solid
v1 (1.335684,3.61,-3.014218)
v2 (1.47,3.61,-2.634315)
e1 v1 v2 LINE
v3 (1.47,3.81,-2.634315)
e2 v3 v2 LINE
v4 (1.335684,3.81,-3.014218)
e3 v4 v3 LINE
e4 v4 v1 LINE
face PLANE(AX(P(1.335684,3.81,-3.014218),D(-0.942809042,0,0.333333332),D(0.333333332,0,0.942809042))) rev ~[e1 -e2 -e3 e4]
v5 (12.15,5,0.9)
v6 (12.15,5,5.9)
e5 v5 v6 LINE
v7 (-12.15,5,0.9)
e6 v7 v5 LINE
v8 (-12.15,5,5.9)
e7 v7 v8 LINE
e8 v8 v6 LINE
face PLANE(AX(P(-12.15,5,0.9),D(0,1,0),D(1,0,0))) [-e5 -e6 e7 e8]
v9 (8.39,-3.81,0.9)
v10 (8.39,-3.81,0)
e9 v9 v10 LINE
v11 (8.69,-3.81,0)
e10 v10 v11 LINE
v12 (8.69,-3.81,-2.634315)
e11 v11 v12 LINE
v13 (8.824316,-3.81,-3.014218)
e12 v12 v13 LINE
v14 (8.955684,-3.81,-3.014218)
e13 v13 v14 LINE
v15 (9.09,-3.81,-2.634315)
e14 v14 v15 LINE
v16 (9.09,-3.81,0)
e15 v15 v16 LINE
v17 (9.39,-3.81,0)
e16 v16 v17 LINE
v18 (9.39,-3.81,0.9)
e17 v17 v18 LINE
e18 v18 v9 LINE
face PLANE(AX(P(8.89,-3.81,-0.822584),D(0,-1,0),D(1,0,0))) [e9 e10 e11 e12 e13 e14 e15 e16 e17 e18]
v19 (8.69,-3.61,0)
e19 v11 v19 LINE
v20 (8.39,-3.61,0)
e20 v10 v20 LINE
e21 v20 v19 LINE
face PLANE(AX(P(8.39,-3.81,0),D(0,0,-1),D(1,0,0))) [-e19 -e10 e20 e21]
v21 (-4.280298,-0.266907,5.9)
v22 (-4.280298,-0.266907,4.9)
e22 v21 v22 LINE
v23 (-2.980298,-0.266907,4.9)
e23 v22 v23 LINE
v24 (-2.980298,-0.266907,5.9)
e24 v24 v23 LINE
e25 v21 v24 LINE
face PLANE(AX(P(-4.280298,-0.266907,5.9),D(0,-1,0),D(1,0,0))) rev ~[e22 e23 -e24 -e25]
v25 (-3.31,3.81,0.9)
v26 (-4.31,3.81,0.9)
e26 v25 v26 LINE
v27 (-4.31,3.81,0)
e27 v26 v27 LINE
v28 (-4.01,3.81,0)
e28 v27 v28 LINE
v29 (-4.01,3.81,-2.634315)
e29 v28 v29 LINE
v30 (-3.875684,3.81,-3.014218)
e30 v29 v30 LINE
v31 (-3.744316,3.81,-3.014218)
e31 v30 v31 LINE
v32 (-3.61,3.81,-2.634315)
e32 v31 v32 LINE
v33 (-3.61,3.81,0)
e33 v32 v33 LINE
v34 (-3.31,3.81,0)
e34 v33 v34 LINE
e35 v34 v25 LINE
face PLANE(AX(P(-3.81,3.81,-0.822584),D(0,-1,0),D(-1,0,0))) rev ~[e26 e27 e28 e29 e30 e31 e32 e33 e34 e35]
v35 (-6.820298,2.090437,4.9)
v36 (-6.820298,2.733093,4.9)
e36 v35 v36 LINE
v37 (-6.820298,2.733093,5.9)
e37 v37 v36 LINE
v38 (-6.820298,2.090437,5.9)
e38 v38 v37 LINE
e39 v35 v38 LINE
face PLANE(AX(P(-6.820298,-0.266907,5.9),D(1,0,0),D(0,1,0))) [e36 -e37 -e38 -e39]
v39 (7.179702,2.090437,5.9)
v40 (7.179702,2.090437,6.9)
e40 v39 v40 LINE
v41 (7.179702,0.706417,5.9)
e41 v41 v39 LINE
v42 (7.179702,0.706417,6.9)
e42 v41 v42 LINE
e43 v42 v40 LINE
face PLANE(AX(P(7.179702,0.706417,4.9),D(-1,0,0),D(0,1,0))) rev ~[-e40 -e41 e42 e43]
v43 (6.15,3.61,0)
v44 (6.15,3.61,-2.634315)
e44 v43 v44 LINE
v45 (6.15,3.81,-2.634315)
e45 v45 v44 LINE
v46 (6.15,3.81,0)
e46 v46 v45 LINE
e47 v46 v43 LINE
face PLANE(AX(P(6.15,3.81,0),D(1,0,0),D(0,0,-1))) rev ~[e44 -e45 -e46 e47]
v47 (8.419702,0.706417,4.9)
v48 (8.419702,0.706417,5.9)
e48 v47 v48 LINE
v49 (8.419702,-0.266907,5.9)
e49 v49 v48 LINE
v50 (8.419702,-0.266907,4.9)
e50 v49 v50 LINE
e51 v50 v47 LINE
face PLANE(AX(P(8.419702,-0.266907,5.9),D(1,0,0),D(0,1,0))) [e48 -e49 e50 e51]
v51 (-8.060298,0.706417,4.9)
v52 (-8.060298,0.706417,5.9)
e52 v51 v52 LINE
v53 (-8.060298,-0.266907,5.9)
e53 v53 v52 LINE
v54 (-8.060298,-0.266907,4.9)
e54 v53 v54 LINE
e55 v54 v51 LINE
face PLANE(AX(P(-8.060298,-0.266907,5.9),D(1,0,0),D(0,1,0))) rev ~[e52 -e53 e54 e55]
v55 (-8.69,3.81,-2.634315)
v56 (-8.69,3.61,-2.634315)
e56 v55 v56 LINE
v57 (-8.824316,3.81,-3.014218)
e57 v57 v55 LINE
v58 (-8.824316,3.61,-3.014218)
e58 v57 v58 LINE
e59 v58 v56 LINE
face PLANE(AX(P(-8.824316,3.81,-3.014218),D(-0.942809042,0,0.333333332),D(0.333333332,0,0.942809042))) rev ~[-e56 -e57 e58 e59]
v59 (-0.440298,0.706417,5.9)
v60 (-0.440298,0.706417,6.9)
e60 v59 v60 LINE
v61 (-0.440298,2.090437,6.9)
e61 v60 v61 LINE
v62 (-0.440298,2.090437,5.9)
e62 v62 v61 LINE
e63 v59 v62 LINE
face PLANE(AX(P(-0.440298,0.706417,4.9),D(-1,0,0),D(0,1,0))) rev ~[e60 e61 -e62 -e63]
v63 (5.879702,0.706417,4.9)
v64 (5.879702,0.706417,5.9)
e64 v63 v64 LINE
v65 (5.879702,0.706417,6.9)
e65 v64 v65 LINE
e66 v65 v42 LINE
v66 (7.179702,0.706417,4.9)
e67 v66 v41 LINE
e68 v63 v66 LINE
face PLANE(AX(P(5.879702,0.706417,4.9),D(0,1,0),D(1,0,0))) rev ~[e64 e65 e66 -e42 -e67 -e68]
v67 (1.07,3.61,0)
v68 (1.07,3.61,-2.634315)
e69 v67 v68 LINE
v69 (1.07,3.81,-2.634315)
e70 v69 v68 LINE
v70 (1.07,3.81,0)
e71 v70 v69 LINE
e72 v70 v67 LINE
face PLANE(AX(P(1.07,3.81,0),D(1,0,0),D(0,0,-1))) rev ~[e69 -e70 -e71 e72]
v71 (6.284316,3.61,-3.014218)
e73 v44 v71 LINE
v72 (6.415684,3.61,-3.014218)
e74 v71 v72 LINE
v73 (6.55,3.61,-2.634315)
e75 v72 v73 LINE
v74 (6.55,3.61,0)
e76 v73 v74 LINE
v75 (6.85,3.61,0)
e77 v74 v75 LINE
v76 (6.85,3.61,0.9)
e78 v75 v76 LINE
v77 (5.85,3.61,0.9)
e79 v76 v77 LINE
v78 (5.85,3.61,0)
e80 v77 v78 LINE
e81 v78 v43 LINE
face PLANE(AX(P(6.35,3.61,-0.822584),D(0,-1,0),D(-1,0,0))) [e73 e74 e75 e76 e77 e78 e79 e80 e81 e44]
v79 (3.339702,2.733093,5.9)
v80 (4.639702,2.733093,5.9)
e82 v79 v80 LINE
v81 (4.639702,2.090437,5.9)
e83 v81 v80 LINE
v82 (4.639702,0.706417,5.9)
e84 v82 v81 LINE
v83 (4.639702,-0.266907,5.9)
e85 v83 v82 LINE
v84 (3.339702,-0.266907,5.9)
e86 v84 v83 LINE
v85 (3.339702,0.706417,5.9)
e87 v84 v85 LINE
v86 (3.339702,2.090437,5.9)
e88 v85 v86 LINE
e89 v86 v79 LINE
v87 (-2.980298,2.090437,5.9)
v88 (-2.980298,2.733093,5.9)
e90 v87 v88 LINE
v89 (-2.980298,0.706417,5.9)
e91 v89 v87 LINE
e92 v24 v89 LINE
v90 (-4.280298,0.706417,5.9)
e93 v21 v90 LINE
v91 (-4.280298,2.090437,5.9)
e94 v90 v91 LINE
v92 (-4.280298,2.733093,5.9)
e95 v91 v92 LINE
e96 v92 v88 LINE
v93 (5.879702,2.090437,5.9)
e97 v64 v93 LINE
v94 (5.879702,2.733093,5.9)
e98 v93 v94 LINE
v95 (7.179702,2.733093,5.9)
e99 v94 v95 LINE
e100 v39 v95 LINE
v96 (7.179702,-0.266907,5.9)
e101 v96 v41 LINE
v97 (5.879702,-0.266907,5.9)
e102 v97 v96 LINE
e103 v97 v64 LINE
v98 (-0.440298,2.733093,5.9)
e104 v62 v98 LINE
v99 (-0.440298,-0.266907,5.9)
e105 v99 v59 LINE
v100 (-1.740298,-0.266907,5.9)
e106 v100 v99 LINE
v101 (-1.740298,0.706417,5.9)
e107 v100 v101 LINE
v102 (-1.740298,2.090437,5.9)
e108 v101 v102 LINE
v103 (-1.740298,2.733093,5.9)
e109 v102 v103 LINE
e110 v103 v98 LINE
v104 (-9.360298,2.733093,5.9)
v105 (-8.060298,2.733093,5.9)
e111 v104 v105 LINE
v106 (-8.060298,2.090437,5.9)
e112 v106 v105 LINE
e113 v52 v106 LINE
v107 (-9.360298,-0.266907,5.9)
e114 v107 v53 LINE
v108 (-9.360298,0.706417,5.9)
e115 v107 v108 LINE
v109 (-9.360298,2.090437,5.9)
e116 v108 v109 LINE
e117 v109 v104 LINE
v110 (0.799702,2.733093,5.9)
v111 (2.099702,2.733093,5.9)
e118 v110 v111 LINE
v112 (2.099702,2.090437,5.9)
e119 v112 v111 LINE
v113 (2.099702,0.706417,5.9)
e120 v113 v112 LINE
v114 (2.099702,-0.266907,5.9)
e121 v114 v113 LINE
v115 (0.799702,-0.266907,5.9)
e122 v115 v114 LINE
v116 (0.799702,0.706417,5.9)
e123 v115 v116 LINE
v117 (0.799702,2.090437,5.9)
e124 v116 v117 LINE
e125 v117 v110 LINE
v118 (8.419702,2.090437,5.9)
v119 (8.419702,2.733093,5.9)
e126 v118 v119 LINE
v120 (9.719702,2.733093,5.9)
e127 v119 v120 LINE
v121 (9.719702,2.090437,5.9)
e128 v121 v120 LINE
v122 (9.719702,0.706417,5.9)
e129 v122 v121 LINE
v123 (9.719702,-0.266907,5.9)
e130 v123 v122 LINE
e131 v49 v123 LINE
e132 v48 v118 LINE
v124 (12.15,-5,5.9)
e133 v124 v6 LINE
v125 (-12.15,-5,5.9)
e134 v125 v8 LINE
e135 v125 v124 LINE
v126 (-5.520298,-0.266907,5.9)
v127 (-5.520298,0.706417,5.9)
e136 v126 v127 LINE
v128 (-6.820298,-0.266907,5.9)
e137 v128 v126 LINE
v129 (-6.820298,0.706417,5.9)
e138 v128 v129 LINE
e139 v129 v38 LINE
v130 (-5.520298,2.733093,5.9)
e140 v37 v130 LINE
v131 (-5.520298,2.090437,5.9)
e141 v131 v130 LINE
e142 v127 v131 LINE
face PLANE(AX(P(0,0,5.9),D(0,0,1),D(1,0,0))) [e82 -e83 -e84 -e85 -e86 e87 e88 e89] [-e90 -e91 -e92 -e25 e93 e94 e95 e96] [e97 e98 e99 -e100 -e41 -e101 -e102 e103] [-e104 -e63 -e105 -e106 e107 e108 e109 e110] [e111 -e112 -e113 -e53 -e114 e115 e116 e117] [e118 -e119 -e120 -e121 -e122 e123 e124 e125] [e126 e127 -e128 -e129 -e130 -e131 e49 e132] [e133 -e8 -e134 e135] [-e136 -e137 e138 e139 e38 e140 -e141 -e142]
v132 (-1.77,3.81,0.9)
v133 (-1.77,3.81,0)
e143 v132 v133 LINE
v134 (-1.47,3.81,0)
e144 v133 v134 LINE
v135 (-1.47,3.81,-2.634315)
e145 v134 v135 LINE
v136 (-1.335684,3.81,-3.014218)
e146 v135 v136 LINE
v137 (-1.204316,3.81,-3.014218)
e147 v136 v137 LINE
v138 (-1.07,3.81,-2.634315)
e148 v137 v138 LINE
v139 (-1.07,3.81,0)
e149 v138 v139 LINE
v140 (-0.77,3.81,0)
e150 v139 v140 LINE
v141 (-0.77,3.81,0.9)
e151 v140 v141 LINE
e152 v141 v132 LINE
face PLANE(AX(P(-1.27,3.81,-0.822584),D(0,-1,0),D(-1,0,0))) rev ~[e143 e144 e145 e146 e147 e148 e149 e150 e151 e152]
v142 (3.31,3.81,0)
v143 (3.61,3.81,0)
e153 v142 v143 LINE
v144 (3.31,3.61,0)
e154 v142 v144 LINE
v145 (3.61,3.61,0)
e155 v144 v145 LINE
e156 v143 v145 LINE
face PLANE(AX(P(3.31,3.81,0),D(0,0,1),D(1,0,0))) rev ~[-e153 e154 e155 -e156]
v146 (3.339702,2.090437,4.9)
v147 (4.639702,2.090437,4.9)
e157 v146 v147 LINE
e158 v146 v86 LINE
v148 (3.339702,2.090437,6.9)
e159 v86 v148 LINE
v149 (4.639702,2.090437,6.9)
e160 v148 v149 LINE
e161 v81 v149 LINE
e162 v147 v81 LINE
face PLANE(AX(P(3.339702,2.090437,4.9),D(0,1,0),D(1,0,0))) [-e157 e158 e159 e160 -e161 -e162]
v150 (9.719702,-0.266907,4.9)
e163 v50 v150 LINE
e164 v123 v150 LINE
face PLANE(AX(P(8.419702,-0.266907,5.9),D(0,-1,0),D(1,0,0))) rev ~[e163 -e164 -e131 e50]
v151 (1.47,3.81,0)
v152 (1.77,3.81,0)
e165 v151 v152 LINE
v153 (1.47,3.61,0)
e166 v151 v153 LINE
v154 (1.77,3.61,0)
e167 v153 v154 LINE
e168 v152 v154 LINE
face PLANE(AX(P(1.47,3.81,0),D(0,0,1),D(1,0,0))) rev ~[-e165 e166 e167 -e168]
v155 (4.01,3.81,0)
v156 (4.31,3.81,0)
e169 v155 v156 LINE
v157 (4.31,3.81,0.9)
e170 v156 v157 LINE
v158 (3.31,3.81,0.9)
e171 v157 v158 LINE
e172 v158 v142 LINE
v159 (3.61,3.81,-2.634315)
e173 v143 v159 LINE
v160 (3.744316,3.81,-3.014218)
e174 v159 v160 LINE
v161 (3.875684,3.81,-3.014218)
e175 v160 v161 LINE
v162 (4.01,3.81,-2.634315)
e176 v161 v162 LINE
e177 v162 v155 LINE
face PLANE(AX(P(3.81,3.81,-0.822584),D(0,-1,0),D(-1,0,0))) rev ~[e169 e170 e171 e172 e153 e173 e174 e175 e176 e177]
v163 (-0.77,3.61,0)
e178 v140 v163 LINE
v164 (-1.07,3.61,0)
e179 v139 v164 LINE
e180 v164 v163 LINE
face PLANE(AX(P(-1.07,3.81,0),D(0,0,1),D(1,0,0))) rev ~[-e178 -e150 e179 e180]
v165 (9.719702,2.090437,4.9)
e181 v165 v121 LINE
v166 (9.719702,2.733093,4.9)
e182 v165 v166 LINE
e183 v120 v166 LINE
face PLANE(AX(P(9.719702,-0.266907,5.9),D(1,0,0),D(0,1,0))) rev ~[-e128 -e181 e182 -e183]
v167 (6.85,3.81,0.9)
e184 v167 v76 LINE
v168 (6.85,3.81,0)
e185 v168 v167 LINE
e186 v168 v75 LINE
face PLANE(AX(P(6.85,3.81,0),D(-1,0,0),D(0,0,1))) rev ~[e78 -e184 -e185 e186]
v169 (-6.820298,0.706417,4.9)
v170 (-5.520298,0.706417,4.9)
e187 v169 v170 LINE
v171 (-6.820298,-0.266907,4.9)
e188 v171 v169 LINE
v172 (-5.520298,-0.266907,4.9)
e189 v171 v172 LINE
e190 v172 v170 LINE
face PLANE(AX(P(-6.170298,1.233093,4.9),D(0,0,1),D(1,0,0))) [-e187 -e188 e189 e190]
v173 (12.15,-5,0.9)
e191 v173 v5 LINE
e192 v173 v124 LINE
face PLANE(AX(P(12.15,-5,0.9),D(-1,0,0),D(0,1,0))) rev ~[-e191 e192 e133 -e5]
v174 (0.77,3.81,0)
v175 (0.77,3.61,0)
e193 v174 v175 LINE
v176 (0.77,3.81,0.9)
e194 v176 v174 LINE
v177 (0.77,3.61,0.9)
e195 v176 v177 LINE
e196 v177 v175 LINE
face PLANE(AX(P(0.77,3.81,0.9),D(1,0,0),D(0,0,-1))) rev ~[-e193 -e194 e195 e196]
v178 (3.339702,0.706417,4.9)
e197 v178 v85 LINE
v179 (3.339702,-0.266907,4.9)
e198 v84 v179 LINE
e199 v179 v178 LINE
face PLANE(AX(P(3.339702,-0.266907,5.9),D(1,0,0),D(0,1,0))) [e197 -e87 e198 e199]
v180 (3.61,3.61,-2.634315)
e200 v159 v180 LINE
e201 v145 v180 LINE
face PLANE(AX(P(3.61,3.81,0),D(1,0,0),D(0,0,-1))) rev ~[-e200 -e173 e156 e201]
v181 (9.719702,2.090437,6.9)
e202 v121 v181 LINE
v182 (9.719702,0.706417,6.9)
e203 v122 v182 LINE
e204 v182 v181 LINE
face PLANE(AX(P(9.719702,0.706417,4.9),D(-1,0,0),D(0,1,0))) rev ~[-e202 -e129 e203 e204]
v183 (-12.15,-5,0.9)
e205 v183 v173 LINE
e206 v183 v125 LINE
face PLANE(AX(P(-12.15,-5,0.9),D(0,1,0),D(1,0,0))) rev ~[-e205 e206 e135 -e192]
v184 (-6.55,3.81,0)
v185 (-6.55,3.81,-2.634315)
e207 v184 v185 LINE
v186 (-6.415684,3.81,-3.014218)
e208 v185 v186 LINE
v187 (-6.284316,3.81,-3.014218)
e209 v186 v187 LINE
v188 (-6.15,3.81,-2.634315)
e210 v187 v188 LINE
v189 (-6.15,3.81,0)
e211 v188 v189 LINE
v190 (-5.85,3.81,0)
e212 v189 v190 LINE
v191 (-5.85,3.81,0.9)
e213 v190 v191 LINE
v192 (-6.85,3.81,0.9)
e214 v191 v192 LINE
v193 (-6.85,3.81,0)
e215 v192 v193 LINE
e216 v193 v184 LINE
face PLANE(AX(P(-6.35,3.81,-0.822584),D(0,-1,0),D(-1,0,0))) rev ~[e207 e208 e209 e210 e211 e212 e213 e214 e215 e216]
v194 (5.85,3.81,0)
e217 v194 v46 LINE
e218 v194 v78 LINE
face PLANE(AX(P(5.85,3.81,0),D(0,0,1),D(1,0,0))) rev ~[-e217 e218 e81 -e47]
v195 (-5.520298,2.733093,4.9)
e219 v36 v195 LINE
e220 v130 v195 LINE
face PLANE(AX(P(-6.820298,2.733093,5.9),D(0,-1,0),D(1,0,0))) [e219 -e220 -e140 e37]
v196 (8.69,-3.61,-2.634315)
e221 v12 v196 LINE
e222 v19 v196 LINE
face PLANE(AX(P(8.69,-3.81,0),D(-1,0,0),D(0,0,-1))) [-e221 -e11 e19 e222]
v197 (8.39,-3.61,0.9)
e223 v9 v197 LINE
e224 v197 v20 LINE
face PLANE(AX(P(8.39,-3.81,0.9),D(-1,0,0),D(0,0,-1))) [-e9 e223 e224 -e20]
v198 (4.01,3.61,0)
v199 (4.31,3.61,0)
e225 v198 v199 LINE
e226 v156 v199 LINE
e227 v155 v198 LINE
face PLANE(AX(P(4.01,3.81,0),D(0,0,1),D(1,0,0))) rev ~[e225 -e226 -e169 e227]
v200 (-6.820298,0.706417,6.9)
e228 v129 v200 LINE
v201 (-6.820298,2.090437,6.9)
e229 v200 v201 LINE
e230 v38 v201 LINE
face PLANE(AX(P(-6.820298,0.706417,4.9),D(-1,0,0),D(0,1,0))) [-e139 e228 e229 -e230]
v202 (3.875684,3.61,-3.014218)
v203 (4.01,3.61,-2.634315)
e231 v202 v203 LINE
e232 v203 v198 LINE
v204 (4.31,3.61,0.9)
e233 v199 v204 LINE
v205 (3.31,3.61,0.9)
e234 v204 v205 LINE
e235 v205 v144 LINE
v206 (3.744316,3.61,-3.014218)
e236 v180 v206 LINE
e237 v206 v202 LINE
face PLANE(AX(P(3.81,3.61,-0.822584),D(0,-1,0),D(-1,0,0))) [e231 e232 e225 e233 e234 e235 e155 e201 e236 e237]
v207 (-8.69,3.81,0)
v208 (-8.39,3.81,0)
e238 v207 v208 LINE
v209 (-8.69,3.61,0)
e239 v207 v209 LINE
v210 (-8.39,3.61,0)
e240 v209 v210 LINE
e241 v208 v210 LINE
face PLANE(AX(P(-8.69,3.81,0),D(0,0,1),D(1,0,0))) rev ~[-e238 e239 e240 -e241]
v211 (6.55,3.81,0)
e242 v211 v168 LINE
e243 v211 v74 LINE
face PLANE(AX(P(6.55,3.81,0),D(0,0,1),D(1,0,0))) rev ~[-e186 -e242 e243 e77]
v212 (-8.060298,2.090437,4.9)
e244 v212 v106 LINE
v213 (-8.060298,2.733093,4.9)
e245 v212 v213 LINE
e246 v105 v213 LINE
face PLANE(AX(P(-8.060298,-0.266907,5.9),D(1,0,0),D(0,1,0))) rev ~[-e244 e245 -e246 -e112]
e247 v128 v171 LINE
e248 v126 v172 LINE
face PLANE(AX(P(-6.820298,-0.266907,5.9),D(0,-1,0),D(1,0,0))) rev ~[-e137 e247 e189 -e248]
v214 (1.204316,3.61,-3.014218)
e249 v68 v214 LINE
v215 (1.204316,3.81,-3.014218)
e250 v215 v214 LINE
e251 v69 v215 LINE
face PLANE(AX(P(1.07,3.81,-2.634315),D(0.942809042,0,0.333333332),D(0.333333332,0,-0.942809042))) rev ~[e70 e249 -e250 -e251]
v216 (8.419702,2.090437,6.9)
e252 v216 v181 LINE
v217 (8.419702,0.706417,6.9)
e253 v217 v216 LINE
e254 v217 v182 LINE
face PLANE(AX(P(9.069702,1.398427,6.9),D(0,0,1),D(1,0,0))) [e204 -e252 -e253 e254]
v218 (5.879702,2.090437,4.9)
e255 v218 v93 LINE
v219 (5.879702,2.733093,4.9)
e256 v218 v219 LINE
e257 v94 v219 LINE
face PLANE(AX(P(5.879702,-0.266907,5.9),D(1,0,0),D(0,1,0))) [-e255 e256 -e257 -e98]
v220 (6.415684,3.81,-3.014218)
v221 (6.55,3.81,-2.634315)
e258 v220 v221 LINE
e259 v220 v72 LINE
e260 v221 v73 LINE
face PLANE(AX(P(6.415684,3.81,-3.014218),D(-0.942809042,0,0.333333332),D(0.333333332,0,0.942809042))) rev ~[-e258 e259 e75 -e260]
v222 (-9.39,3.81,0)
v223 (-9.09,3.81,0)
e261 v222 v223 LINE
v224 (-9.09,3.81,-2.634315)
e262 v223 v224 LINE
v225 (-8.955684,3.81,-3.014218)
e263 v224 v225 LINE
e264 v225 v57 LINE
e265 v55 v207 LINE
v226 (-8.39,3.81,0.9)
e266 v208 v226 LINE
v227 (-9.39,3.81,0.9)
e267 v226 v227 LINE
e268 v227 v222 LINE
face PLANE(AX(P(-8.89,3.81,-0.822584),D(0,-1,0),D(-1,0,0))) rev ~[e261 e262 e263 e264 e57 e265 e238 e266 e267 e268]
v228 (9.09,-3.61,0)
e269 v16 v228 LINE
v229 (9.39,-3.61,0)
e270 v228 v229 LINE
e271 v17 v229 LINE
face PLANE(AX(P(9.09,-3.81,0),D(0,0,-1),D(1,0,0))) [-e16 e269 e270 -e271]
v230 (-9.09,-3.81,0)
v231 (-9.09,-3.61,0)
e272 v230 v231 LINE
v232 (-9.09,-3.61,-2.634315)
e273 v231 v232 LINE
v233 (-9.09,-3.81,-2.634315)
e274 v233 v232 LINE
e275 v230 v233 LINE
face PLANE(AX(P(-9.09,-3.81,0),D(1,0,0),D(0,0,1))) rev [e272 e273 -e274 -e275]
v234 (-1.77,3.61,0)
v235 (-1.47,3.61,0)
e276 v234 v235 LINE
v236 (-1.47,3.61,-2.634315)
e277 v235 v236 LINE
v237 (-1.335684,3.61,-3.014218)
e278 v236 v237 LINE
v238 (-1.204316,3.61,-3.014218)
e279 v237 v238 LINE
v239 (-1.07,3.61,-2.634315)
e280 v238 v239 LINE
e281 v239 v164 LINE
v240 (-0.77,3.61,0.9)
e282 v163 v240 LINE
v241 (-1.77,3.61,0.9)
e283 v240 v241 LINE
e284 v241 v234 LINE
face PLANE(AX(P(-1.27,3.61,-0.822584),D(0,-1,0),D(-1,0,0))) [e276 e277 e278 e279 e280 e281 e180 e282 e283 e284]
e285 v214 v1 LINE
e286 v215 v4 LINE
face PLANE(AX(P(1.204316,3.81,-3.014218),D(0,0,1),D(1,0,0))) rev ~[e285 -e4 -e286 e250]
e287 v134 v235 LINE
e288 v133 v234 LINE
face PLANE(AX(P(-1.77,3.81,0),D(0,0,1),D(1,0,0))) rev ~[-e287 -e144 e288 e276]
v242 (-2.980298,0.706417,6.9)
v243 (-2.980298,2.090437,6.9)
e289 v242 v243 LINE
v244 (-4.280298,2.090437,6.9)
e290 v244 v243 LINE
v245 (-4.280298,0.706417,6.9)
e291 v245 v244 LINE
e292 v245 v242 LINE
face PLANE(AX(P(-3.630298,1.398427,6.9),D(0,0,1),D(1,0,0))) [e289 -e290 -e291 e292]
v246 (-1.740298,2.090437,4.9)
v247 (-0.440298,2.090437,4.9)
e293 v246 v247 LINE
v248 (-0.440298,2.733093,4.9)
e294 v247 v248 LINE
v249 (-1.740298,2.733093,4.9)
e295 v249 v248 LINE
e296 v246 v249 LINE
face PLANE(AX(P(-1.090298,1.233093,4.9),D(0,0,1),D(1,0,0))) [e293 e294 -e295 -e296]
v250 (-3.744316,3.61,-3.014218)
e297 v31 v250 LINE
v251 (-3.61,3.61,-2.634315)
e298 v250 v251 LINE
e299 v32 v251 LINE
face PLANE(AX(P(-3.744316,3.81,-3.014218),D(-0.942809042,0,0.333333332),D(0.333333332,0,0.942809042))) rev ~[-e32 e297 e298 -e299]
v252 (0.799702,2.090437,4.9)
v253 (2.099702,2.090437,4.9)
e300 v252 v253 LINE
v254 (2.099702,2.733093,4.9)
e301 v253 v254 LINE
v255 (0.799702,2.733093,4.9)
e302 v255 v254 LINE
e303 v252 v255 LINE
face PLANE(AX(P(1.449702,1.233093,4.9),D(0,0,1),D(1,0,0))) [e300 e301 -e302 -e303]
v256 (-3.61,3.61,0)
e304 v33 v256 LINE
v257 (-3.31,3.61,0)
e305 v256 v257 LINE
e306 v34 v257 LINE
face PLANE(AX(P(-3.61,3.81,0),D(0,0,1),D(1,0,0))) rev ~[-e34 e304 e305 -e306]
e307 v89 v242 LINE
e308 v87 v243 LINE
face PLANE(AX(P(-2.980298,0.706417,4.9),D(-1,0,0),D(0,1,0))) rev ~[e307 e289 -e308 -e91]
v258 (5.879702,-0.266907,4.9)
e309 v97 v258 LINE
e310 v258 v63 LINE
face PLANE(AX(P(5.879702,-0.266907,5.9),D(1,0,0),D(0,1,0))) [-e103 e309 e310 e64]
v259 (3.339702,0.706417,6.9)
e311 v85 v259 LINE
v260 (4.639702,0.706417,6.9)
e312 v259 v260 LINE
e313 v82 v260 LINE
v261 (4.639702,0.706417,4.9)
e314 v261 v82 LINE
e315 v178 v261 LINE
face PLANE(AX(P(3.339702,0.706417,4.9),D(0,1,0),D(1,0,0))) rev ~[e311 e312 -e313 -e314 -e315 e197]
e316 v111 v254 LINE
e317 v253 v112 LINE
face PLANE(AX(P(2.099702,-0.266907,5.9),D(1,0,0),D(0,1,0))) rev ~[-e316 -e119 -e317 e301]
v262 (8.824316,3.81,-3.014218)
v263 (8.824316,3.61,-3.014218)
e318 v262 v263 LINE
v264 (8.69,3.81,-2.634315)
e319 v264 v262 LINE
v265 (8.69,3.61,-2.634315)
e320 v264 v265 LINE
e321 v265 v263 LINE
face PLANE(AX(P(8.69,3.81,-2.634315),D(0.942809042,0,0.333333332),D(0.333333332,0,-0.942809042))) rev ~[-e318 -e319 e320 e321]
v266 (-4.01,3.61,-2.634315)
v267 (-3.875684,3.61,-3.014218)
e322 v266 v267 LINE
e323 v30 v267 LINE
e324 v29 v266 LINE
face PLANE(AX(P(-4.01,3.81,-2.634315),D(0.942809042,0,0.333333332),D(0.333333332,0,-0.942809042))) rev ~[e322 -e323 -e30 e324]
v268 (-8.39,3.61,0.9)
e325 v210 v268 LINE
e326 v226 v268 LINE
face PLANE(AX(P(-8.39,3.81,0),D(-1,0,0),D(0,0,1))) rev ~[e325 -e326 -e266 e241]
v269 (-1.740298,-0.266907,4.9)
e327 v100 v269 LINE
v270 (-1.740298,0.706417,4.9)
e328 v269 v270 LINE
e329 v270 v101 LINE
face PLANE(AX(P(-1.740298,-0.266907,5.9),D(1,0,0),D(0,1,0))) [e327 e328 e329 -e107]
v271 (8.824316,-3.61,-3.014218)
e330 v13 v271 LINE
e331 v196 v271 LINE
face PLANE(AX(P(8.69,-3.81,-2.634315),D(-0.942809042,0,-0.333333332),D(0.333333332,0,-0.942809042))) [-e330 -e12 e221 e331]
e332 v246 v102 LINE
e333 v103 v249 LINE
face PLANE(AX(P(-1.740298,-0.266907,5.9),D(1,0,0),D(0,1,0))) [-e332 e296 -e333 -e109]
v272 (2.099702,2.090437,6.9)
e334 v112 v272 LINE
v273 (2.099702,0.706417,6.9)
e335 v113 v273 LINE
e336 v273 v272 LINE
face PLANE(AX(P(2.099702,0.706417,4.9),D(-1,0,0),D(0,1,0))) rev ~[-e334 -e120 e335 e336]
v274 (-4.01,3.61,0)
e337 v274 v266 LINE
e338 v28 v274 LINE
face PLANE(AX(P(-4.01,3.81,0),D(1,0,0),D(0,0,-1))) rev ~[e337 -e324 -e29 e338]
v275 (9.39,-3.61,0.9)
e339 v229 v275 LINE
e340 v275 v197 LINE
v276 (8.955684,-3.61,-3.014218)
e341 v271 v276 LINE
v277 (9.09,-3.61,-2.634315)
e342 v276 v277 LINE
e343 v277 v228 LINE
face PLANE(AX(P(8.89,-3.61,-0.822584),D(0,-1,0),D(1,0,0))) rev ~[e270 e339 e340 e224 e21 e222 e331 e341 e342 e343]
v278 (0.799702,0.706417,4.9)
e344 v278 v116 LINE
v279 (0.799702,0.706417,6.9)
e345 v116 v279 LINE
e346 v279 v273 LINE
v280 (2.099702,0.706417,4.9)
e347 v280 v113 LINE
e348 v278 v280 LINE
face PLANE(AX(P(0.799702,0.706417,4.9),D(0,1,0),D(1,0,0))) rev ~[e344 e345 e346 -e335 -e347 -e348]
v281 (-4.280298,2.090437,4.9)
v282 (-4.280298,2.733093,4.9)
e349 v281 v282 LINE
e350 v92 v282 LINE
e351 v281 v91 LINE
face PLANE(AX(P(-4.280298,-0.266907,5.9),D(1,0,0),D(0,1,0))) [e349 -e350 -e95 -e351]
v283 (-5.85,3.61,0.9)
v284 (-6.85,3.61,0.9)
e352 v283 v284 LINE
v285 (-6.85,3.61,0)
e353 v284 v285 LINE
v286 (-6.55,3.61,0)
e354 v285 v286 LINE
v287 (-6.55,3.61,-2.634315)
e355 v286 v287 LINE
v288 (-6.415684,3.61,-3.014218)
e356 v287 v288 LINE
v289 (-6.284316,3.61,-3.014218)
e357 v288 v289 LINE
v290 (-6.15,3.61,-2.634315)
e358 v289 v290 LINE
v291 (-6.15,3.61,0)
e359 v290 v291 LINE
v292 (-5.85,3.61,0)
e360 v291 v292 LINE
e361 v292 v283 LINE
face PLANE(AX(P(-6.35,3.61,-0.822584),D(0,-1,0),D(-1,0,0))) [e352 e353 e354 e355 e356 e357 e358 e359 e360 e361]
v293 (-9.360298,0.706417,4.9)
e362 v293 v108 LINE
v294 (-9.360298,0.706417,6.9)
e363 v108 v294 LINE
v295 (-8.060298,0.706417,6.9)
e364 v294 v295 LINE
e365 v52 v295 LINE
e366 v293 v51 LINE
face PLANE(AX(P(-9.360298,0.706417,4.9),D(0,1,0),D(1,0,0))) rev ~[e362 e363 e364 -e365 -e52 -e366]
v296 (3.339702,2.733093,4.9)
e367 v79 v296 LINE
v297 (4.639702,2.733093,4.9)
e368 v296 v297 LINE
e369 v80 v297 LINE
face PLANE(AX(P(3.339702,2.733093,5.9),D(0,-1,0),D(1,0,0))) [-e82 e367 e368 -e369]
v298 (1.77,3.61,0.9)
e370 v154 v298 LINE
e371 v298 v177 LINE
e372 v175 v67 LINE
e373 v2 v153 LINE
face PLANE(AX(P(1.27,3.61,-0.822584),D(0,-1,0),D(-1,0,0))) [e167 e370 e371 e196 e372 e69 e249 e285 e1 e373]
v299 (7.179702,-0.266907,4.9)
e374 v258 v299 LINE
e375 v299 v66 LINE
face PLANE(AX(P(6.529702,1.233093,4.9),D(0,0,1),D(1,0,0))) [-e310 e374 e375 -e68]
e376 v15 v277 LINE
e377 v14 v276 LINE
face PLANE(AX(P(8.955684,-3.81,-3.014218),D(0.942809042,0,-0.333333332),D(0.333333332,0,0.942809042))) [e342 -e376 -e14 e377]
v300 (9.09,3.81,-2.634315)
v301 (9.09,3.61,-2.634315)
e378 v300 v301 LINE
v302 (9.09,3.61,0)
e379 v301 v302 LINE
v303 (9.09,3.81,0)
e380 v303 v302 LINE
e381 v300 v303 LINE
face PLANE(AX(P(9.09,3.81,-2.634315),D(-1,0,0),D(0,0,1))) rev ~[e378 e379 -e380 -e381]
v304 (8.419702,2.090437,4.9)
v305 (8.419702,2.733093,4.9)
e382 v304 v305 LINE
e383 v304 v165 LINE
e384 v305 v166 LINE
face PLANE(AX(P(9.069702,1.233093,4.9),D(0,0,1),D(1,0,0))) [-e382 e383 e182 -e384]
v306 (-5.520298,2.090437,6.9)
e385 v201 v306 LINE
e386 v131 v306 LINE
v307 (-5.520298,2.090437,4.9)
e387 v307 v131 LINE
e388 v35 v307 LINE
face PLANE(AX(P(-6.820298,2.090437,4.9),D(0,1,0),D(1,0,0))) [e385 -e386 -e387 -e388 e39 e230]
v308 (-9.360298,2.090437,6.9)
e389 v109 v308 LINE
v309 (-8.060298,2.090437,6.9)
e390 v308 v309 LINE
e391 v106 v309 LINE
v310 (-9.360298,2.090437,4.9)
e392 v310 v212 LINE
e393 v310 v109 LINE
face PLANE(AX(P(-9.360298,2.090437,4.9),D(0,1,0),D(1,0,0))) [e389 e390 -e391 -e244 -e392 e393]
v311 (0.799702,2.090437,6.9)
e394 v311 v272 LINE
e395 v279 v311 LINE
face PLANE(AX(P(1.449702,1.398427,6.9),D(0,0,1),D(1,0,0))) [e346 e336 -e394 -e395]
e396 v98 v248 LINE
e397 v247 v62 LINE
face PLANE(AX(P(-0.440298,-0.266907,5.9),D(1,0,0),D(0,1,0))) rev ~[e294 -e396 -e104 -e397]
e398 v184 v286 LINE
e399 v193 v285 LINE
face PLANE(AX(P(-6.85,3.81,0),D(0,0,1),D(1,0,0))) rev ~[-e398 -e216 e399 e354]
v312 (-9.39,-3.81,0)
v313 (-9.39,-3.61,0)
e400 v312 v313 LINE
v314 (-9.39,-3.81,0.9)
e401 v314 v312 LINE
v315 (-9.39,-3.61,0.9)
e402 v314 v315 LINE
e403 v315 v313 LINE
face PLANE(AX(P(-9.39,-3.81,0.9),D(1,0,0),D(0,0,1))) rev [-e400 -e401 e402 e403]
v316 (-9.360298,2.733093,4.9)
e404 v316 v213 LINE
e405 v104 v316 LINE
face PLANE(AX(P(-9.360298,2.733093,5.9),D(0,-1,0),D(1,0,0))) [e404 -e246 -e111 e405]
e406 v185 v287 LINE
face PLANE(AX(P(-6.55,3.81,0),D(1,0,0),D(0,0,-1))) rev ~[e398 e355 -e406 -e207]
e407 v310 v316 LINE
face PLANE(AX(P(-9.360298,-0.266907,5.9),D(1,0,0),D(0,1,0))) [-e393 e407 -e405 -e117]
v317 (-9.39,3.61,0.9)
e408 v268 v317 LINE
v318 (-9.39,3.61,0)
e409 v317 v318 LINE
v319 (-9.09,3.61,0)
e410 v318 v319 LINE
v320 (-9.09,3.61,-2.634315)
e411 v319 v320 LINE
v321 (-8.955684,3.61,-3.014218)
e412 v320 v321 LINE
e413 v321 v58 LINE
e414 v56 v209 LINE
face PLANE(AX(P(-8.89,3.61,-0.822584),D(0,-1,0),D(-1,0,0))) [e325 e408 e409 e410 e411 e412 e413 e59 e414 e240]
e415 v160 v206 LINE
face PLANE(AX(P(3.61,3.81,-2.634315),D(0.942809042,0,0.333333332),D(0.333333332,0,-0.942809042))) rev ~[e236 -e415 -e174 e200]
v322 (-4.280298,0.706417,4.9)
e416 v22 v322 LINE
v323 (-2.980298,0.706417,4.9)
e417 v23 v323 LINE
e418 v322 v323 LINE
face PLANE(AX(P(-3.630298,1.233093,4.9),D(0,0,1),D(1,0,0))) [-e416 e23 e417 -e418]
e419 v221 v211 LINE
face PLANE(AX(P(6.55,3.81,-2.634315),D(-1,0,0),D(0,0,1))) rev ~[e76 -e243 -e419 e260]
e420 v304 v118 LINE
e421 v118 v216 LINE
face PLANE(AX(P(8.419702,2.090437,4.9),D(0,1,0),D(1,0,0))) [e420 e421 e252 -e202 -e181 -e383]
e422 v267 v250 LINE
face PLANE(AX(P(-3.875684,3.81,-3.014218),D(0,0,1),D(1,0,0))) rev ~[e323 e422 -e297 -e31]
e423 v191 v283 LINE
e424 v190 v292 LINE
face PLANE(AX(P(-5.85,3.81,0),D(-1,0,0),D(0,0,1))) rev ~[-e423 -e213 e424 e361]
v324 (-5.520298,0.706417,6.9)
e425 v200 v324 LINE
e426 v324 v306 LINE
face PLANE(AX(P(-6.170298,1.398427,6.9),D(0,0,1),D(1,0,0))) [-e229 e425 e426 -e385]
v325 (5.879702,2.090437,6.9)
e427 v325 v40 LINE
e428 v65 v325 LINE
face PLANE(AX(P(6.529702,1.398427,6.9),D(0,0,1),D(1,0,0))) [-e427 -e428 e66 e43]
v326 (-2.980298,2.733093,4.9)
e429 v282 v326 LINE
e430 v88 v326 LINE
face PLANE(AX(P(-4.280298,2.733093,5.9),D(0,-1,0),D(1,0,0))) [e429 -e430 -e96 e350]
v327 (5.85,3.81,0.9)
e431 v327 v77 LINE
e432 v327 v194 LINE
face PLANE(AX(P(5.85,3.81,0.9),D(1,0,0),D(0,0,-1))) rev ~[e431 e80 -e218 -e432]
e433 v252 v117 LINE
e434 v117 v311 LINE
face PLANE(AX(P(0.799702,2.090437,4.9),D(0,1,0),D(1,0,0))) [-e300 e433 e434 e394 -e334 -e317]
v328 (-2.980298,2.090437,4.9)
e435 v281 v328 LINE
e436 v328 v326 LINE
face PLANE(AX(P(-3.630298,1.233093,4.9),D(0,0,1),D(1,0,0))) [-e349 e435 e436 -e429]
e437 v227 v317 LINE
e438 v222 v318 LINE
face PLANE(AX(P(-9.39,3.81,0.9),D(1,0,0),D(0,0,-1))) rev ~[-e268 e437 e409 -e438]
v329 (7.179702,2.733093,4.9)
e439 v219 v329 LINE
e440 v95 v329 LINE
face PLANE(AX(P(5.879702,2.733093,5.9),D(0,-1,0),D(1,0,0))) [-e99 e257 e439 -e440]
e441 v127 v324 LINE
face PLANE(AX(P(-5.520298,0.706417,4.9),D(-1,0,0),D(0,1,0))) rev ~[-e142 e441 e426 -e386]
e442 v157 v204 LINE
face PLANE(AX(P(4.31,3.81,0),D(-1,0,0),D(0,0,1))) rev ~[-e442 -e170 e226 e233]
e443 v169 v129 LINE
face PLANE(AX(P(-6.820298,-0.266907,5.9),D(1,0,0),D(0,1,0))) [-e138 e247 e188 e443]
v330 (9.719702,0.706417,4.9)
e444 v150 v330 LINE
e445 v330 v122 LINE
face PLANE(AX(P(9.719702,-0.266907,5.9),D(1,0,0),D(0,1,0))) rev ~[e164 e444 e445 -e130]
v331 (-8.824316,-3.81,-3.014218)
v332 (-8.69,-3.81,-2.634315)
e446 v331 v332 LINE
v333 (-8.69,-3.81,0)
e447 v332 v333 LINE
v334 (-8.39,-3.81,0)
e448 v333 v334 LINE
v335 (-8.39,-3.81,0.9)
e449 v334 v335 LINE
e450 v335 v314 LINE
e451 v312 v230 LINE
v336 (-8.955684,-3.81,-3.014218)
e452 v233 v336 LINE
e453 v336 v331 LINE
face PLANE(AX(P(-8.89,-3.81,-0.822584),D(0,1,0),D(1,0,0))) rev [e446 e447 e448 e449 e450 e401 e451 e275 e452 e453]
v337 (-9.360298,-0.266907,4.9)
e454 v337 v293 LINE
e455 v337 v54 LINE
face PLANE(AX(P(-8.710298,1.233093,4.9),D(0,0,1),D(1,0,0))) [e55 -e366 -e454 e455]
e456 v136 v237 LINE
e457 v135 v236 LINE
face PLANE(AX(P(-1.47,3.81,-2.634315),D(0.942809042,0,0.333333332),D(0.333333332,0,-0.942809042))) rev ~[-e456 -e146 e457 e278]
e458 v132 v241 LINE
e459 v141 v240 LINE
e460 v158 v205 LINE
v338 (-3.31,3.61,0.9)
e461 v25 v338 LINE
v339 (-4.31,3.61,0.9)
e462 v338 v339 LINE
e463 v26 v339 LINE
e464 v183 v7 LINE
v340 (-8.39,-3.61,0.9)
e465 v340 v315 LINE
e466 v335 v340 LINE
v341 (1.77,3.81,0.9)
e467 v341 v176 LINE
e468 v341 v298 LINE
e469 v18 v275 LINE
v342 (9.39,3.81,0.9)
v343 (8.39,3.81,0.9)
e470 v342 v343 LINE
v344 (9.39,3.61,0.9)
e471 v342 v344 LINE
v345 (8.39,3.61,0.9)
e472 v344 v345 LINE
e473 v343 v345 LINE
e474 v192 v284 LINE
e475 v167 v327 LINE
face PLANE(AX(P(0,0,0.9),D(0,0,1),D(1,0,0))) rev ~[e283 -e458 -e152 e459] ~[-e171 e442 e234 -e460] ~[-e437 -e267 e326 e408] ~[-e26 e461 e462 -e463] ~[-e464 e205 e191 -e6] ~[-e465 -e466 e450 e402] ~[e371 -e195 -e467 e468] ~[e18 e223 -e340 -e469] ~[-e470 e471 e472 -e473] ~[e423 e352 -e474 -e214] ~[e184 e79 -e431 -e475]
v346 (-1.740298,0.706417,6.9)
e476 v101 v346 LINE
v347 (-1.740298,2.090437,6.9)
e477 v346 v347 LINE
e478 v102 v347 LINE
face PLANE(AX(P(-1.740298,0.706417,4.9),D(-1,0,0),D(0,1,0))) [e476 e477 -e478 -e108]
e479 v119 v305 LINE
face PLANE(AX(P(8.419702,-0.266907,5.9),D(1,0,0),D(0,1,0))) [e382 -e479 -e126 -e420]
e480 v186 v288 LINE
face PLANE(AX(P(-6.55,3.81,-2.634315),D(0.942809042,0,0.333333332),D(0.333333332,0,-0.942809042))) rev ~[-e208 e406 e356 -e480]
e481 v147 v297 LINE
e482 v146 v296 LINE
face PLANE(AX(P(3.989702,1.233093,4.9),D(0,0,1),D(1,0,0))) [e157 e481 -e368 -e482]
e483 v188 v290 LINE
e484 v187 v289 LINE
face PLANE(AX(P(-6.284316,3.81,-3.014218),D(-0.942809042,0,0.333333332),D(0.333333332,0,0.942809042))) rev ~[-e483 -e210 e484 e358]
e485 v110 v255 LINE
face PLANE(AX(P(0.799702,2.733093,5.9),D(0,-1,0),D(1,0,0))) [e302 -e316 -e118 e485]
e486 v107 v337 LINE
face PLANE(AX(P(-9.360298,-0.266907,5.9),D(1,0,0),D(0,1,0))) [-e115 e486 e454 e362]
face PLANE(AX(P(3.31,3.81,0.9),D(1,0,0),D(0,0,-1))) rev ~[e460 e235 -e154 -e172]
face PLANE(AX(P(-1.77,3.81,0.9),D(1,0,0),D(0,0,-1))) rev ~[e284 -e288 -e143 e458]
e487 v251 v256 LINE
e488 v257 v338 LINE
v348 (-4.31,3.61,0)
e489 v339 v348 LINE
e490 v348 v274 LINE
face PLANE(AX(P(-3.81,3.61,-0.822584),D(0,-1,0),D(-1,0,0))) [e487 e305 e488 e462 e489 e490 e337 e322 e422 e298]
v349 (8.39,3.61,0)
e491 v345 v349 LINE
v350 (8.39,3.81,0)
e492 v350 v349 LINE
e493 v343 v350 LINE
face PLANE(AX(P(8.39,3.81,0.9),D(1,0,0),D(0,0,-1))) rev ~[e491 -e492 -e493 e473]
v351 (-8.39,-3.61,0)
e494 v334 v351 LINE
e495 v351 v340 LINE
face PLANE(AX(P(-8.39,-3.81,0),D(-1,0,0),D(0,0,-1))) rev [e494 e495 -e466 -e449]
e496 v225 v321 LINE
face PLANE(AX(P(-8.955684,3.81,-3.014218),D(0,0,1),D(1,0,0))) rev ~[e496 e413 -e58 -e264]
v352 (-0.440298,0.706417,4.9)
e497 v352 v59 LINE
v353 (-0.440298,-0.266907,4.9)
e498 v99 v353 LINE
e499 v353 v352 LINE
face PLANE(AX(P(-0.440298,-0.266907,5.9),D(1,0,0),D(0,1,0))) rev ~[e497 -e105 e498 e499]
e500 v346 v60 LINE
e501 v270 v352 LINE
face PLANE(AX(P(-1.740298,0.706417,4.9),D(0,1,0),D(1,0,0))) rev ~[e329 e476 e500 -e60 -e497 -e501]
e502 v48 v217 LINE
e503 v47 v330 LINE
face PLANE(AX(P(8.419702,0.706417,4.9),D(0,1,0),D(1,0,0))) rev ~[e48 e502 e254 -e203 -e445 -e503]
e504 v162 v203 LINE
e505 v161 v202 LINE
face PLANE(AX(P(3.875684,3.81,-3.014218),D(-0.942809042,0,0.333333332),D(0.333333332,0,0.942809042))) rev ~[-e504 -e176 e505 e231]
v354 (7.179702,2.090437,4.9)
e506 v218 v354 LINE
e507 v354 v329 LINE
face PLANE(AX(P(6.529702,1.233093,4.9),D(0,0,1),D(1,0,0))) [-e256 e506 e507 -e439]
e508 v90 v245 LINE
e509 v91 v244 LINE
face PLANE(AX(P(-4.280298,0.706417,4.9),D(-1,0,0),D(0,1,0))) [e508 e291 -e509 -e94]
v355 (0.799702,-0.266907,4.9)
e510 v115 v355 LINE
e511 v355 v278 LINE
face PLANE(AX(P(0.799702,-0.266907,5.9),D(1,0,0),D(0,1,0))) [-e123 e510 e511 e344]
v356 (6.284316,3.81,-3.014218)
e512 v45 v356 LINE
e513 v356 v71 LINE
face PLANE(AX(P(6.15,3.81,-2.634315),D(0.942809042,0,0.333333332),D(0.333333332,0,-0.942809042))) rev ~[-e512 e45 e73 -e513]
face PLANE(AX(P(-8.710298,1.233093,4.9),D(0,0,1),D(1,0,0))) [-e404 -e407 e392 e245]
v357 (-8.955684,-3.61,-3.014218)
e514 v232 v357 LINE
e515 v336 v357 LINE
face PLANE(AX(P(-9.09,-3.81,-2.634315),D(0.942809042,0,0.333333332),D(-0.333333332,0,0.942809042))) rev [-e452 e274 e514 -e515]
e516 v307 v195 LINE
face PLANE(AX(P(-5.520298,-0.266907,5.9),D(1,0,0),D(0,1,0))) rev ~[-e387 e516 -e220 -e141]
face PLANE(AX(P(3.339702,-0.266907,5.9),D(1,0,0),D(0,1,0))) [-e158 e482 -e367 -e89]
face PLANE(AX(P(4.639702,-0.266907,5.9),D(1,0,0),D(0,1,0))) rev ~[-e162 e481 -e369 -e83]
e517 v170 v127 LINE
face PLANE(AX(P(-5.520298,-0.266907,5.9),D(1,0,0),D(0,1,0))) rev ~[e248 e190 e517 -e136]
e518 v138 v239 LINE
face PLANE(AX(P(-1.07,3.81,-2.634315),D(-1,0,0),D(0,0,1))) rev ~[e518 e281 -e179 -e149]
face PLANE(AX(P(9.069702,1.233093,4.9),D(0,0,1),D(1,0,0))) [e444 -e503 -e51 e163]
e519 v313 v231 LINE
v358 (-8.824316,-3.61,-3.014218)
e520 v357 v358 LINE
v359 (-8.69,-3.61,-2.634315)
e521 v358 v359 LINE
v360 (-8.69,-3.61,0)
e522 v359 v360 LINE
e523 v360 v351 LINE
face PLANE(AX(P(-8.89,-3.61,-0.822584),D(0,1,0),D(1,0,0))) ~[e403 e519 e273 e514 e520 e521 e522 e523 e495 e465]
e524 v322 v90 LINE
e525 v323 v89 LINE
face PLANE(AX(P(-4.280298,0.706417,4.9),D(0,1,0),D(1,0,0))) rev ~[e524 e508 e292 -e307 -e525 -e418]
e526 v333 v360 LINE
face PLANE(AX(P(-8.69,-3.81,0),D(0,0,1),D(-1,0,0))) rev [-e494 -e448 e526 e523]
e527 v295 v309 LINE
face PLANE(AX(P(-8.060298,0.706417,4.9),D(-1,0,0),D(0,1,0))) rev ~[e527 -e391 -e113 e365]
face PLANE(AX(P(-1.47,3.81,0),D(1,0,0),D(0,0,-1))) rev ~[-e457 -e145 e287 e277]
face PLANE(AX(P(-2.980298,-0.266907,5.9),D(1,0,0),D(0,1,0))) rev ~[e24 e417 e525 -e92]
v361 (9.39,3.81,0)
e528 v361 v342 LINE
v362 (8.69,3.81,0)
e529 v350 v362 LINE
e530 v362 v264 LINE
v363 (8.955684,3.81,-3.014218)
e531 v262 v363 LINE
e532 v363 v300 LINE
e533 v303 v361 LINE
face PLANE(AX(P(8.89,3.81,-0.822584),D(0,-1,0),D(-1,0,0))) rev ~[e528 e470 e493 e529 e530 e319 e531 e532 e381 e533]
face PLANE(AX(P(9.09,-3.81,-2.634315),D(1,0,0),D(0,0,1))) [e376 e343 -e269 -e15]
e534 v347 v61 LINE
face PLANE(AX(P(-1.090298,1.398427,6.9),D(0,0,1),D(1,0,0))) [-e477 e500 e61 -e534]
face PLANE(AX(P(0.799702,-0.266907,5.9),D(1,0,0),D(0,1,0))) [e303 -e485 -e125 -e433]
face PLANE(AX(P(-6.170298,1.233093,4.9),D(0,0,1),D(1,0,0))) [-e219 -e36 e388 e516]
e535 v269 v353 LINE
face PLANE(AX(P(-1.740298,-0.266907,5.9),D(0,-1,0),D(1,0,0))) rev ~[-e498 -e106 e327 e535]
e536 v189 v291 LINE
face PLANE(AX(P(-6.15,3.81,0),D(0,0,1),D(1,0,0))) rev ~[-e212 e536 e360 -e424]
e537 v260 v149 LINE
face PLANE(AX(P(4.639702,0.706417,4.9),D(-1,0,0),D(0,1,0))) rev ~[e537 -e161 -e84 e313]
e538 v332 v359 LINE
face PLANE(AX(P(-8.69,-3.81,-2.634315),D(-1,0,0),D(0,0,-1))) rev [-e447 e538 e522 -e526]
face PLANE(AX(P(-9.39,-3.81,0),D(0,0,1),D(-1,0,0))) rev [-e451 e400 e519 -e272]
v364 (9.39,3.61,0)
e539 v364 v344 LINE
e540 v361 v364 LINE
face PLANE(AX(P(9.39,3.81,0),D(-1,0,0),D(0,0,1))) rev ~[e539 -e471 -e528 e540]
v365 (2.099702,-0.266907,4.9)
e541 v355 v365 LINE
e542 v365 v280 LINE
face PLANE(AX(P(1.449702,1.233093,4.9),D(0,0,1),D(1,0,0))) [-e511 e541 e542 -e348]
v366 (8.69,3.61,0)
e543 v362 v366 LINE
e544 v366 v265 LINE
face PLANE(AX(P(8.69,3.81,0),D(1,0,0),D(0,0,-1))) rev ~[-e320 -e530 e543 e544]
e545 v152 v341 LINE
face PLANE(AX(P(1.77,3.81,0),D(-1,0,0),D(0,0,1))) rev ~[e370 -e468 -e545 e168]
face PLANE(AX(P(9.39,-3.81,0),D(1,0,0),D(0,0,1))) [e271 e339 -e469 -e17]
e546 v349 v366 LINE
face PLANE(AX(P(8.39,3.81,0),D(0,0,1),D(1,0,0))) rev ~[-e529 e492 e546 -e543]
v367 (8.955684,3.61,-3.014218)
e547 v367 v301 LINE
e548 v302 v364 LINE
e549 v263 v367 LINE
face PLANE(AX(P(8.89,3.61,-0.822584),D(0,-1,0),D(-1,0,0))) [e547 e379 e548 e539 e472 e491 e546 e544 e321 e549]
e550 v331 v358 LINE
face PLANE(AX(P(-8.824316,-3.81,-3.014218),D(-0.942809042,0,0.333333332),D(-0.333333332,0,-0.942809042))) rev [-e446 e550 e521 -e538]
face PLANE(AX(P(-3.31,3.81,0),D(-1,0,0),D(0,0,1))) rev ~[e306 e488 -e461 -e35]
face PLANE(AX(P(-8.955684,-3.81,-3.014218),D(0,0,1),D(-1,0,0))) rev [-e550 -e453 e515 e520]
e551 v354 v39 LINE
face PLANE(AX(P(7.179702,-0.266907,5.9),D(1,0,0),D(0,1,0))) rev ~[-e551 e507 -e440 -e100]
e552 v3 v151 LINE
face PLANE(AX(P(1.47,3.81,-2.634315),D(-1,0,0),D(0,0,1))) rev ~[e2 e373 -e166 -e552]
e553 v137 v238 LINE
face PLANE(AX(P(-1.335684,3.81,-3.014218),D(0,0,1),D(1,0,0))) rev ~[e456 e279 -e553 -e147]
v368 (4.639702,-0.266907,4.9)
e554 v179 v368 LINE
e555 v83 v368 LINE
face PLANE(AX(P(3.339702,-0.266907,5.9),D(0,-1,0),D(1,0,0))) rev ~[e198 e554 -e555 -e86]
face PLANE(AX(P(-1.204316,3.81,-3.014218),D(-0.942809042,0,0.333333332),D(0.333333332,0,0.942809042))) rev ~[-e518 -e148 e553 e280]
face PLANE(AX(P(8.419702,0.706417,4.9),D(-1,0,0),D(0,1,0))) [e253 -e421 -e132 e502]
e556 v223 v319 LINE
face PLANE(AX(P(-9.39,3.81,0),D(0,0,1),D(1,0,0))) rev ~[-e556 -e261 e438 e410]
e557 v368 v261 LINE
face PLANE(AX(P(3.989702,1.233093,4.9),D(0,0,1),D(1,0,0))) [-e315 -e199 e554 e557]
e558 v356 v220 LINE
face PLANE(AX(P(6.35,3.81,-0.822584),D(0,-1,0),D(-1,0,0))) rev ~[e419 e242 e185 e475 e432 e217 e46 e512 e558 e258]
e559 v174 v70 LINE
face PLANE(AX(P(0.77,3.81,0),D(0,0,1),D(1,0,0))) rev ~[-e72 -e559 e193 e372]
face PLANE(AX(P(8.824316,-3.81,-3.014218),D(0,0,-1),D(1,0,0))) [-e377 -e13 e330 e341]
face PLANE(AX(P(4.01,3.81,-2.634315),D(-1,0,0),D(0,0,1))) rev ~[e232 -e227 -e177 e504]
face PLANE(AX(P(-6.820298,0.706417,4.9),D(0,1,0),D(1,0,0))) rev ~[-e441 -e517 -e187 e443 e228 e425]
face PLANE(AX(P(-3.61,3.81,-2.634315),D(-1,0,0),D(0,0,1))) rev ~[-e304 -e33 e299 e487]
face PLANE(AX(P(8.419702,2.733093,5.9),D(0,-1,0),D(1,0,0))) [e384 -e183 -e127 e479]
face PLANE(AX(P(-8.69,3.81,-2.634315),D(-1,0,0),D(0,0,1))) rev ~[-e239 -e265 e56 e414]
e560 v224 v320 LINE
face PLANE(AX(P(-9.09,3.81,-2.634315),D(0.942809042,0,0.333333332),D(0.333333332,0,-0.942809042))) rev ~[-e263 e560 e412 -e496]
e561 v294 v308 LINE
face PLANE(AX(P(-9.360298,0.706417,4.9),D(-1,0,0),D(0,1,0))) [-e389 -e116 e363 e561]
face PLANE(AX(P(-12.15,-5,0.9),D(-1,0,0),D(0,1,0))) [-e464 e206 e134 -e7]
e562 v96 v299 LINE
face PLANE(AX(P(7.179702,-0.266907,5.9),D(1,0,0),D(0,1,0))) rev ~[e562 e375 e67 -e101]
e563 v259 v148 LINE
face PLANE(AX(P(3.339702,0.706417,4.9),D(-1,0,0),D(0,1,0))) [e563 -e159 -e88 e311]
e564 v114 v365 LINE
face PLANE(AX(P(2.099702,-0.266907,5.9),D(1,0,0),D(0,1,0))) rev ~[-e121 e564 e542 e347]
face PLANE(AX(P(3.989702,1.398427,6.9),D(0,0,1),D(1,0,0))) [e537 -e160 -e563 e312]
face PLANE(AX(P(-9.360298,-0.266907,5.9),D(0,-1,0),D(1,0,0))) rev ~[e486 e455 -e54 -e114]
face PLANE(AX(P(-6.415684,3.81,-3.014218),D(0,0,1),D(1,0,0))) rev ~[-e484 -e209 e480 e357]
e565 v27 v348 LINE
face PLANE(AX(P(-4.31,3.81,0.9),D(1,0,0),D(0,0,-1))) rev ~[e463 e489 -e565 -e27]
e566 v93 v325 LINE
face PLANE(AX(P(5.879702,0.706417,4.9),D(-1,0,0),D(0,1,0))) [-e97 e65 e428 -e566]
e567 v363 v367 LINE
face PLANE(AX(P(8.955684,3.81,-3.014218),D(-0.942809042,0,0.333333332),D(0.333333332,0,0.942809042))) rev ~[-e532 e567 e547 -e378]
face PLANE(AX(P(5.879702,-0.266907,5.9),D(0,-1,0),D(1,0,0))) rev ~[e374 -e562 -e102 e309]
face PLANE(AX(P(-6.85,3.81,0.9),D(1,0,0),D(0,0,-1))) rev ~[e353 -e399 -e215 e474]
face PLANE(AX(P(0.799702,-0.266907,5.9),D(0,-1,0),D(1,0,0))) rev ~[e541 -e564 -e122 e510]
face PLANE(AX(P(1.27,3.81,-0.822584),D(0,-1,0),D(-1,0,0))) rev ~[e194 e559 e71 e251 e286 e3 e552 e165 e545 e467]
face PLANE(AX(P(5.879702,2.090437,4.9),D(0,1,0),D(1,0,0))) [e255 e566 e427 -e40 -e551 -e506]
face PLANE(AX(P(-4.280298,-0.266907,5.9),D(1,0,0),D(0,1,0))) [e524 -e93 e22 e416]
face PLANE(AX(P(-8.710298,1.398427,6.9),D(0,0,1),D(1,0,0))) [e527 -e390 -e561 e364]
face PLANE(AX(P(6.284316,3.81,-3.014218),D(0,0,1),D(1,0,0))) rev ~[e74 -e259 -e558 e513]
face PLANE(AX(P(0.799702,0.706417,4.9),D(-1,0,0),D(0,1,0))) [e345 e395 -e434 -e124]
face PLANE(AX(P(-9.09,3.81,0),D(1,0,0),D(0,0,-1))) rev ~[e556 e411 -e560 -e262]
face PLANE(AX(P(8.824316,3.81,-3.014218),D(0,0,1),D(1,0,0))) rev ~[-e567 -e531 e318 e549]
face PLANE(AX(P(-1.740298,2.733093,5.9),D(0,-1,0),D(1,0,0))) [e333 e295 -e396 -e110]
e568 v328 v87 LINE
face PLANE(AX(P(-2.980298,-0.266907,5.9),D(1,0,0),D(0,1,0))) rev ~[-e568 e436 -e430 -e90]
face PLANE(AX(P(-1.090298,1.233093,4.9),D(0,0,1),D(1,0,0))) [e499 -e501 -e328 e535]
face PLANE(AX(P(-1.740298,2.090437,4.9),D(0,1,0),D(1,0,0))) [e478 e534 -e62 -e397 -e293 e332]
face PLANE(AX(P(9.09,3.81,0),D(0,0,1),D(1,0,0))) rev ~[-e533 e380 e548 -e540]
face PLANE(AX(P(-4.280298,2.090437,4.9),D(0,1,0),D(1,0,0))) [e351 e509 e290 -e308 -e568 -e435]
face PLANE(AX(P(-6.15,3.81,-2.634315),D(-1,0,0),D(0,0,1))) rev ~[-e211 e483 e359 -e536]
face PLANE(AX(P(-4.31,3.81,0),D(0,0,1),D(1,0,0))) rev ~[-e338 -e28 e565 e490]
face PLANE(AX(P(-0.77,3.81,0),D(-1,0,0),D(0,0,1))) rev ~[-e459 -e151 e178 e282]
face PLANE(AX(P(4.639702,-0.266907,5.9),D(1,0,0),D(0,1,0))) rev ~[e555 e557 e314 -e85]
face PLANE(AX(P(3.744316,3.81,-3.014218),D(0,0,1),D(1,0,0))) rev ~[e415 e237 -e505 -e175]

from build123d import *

# Parameters (mm, degrees)
SKETCH1_W              = 24.3
SKETCH1_H              = 10
BOSS_EXTRUDE1_DEPTH    = 5
SKETCH2_W              = 1.3
SKETCH2_H              = 3
CUT_EXTRUDE3_DEPTH     = 1
LPATTERN1_COUNT        = 8
LPATTERN1_PITCH        = 2.54
SKETCH3_W              = 1.3
SKETCH3_H              = 1.384019907
BOSS_EXTRUDE2_DEPTH    = 2
LPATTERN2_COUNT        = 8
LPATTERN2_PITCH        = 2.54
BOSS_EXTRUDE3_DEPTH    = 0.2
LPATTERN3_COUNT        = 8
LPATTERN3_PITCH        = 2.54
LPATTERN5_COPY_1_DEPTH = 0.2
LPATTERN5_COPY_2_DEPTH = 0.2


with BuildPart() as part:
    # Sketch1 → Boss-Extrude1 (new body)
    with BuildSketch(Plane.XY):
        Rectangle(SKETCH1_W, SKETCH1_H)
    extrude(amount=BOSS_EXTRUDE1_DEPTH)

    # Sketch2 → Cut-Extrude3 (cut)
    with BuildSketch(Plane.XY.offset(5)):
        with Locations((-8.710298424, 1.233093176)):
            Rectangle(SKETCH2_W, SKETCH2_H)
    cut_extrude3 = extrude(amount=-CUT_EXTRUDE3_DEPTH, mode=Mode.SUBTRACT)

    # LPattern1: Cut-Extrude3 ×8
    with Locations(*[(i * LPATTERN1_PITCH, 0, 0) for i in range(1, LPATTERN1_COUNT)]):
        add(cut_extrude3, mode=Mode.SUBTRACT)

    # Sketch3 → Boss-Extrude2 (add)
    with BuildSketch(Plane.XY.offset(4)):
        with Locations((-8.710298424, 1.39842675)):
            Rectangle(SKETCH3_W, SKETCH3_H)
    boss_extrude2 = extrude(amount=BOSS_EXTRUDE2_DEPTH)

    # LPattern2: Boss-Extrude2 ×8
    with Locations(*[(i * LPATTERN2_PITCH, 0, 0) for i in range(1, LPATTERN2_COUNT)]):
        add(boss_extrude2)


with BuildPart() as part_1:
    # Body-Move/Copy1: moved
    add(part.part.moved(Location((0, 0, 0.9))))

    # Sketch4 → Boss-Extrude3 (add)
    with BuildSketch(Plane(origin=(0, 3.81, 0), x_dir=(1, 0, 0), z_dir=(0, 1, 0))):
        Polygon((-9.39, -0.9), (-9.39, 0), (-9.09, 0), (-9.09, 2.634314575), (-8.955683901, 3.014217874), (-8.824316099, 3.014217874), (-8.69, 2.634314575), (-8.69, 0), (-8.39, 0), (-8.39, -0.9), align=None)
    boss_extrude3 = extrude(amount=-BOSS_EXTRUDE3_DEPTH)

    # LPattern3: Boss-Extrude3 ×8
    with Locations(*[(i * LPATTERN3_PITCH, 0, 0) for i in range(1, LPATTERN3_COUNT)]):
        add(boss_extrude3)

    # Mirror1: Boss-Extrude3 across plane
    add(boss_extrude3.mirror(Plane.ZX))

    # LPattern5 copy 1 sketch → LPattern5 copy 1 (add)
    with BuildSketch(Plane(origin=(17.78, -3.81, 0), x_dir=(1, 0, 0), z_dir=(0, -1, 0))):
        Polygon((-9.39, 0.9), (-9.39, 0), (-9.09, 0), (-9.09, -2.634314575), (-8.955683901, -3.014217874), (-8.824316099, -3.014217874), (-8.69, -2.634314575), (-8.69, 0), (-8.39, 0), (-8.39, 0.9), align=None)
    extrude(amount=-LPATTERN5_COPY_1_DEPTH)

    # LPattern5 copy 2 sketch → LPattern5 copy 2 (add)
    with BuildSketch(Plane(origin=(17.78, 3.81, 0), x_dir=(1, 0, 0), z_dir=(0, 1, 0))):
        Polygon((-9.39, -0.9), (-9.39, 0), (-9.09, 0), (-9.09, 2.634314575), (-8.955683901, 3.014217874), (-8.824316099, 3.014217874), (-8.69, 2.634314575), (-8.69, 0), (-8.39, 0), (-8.39, -0.9), align=None)
    extrude(amount=-LPATTERN5_COPY_2_DEPTH)


solid = part_1.part
